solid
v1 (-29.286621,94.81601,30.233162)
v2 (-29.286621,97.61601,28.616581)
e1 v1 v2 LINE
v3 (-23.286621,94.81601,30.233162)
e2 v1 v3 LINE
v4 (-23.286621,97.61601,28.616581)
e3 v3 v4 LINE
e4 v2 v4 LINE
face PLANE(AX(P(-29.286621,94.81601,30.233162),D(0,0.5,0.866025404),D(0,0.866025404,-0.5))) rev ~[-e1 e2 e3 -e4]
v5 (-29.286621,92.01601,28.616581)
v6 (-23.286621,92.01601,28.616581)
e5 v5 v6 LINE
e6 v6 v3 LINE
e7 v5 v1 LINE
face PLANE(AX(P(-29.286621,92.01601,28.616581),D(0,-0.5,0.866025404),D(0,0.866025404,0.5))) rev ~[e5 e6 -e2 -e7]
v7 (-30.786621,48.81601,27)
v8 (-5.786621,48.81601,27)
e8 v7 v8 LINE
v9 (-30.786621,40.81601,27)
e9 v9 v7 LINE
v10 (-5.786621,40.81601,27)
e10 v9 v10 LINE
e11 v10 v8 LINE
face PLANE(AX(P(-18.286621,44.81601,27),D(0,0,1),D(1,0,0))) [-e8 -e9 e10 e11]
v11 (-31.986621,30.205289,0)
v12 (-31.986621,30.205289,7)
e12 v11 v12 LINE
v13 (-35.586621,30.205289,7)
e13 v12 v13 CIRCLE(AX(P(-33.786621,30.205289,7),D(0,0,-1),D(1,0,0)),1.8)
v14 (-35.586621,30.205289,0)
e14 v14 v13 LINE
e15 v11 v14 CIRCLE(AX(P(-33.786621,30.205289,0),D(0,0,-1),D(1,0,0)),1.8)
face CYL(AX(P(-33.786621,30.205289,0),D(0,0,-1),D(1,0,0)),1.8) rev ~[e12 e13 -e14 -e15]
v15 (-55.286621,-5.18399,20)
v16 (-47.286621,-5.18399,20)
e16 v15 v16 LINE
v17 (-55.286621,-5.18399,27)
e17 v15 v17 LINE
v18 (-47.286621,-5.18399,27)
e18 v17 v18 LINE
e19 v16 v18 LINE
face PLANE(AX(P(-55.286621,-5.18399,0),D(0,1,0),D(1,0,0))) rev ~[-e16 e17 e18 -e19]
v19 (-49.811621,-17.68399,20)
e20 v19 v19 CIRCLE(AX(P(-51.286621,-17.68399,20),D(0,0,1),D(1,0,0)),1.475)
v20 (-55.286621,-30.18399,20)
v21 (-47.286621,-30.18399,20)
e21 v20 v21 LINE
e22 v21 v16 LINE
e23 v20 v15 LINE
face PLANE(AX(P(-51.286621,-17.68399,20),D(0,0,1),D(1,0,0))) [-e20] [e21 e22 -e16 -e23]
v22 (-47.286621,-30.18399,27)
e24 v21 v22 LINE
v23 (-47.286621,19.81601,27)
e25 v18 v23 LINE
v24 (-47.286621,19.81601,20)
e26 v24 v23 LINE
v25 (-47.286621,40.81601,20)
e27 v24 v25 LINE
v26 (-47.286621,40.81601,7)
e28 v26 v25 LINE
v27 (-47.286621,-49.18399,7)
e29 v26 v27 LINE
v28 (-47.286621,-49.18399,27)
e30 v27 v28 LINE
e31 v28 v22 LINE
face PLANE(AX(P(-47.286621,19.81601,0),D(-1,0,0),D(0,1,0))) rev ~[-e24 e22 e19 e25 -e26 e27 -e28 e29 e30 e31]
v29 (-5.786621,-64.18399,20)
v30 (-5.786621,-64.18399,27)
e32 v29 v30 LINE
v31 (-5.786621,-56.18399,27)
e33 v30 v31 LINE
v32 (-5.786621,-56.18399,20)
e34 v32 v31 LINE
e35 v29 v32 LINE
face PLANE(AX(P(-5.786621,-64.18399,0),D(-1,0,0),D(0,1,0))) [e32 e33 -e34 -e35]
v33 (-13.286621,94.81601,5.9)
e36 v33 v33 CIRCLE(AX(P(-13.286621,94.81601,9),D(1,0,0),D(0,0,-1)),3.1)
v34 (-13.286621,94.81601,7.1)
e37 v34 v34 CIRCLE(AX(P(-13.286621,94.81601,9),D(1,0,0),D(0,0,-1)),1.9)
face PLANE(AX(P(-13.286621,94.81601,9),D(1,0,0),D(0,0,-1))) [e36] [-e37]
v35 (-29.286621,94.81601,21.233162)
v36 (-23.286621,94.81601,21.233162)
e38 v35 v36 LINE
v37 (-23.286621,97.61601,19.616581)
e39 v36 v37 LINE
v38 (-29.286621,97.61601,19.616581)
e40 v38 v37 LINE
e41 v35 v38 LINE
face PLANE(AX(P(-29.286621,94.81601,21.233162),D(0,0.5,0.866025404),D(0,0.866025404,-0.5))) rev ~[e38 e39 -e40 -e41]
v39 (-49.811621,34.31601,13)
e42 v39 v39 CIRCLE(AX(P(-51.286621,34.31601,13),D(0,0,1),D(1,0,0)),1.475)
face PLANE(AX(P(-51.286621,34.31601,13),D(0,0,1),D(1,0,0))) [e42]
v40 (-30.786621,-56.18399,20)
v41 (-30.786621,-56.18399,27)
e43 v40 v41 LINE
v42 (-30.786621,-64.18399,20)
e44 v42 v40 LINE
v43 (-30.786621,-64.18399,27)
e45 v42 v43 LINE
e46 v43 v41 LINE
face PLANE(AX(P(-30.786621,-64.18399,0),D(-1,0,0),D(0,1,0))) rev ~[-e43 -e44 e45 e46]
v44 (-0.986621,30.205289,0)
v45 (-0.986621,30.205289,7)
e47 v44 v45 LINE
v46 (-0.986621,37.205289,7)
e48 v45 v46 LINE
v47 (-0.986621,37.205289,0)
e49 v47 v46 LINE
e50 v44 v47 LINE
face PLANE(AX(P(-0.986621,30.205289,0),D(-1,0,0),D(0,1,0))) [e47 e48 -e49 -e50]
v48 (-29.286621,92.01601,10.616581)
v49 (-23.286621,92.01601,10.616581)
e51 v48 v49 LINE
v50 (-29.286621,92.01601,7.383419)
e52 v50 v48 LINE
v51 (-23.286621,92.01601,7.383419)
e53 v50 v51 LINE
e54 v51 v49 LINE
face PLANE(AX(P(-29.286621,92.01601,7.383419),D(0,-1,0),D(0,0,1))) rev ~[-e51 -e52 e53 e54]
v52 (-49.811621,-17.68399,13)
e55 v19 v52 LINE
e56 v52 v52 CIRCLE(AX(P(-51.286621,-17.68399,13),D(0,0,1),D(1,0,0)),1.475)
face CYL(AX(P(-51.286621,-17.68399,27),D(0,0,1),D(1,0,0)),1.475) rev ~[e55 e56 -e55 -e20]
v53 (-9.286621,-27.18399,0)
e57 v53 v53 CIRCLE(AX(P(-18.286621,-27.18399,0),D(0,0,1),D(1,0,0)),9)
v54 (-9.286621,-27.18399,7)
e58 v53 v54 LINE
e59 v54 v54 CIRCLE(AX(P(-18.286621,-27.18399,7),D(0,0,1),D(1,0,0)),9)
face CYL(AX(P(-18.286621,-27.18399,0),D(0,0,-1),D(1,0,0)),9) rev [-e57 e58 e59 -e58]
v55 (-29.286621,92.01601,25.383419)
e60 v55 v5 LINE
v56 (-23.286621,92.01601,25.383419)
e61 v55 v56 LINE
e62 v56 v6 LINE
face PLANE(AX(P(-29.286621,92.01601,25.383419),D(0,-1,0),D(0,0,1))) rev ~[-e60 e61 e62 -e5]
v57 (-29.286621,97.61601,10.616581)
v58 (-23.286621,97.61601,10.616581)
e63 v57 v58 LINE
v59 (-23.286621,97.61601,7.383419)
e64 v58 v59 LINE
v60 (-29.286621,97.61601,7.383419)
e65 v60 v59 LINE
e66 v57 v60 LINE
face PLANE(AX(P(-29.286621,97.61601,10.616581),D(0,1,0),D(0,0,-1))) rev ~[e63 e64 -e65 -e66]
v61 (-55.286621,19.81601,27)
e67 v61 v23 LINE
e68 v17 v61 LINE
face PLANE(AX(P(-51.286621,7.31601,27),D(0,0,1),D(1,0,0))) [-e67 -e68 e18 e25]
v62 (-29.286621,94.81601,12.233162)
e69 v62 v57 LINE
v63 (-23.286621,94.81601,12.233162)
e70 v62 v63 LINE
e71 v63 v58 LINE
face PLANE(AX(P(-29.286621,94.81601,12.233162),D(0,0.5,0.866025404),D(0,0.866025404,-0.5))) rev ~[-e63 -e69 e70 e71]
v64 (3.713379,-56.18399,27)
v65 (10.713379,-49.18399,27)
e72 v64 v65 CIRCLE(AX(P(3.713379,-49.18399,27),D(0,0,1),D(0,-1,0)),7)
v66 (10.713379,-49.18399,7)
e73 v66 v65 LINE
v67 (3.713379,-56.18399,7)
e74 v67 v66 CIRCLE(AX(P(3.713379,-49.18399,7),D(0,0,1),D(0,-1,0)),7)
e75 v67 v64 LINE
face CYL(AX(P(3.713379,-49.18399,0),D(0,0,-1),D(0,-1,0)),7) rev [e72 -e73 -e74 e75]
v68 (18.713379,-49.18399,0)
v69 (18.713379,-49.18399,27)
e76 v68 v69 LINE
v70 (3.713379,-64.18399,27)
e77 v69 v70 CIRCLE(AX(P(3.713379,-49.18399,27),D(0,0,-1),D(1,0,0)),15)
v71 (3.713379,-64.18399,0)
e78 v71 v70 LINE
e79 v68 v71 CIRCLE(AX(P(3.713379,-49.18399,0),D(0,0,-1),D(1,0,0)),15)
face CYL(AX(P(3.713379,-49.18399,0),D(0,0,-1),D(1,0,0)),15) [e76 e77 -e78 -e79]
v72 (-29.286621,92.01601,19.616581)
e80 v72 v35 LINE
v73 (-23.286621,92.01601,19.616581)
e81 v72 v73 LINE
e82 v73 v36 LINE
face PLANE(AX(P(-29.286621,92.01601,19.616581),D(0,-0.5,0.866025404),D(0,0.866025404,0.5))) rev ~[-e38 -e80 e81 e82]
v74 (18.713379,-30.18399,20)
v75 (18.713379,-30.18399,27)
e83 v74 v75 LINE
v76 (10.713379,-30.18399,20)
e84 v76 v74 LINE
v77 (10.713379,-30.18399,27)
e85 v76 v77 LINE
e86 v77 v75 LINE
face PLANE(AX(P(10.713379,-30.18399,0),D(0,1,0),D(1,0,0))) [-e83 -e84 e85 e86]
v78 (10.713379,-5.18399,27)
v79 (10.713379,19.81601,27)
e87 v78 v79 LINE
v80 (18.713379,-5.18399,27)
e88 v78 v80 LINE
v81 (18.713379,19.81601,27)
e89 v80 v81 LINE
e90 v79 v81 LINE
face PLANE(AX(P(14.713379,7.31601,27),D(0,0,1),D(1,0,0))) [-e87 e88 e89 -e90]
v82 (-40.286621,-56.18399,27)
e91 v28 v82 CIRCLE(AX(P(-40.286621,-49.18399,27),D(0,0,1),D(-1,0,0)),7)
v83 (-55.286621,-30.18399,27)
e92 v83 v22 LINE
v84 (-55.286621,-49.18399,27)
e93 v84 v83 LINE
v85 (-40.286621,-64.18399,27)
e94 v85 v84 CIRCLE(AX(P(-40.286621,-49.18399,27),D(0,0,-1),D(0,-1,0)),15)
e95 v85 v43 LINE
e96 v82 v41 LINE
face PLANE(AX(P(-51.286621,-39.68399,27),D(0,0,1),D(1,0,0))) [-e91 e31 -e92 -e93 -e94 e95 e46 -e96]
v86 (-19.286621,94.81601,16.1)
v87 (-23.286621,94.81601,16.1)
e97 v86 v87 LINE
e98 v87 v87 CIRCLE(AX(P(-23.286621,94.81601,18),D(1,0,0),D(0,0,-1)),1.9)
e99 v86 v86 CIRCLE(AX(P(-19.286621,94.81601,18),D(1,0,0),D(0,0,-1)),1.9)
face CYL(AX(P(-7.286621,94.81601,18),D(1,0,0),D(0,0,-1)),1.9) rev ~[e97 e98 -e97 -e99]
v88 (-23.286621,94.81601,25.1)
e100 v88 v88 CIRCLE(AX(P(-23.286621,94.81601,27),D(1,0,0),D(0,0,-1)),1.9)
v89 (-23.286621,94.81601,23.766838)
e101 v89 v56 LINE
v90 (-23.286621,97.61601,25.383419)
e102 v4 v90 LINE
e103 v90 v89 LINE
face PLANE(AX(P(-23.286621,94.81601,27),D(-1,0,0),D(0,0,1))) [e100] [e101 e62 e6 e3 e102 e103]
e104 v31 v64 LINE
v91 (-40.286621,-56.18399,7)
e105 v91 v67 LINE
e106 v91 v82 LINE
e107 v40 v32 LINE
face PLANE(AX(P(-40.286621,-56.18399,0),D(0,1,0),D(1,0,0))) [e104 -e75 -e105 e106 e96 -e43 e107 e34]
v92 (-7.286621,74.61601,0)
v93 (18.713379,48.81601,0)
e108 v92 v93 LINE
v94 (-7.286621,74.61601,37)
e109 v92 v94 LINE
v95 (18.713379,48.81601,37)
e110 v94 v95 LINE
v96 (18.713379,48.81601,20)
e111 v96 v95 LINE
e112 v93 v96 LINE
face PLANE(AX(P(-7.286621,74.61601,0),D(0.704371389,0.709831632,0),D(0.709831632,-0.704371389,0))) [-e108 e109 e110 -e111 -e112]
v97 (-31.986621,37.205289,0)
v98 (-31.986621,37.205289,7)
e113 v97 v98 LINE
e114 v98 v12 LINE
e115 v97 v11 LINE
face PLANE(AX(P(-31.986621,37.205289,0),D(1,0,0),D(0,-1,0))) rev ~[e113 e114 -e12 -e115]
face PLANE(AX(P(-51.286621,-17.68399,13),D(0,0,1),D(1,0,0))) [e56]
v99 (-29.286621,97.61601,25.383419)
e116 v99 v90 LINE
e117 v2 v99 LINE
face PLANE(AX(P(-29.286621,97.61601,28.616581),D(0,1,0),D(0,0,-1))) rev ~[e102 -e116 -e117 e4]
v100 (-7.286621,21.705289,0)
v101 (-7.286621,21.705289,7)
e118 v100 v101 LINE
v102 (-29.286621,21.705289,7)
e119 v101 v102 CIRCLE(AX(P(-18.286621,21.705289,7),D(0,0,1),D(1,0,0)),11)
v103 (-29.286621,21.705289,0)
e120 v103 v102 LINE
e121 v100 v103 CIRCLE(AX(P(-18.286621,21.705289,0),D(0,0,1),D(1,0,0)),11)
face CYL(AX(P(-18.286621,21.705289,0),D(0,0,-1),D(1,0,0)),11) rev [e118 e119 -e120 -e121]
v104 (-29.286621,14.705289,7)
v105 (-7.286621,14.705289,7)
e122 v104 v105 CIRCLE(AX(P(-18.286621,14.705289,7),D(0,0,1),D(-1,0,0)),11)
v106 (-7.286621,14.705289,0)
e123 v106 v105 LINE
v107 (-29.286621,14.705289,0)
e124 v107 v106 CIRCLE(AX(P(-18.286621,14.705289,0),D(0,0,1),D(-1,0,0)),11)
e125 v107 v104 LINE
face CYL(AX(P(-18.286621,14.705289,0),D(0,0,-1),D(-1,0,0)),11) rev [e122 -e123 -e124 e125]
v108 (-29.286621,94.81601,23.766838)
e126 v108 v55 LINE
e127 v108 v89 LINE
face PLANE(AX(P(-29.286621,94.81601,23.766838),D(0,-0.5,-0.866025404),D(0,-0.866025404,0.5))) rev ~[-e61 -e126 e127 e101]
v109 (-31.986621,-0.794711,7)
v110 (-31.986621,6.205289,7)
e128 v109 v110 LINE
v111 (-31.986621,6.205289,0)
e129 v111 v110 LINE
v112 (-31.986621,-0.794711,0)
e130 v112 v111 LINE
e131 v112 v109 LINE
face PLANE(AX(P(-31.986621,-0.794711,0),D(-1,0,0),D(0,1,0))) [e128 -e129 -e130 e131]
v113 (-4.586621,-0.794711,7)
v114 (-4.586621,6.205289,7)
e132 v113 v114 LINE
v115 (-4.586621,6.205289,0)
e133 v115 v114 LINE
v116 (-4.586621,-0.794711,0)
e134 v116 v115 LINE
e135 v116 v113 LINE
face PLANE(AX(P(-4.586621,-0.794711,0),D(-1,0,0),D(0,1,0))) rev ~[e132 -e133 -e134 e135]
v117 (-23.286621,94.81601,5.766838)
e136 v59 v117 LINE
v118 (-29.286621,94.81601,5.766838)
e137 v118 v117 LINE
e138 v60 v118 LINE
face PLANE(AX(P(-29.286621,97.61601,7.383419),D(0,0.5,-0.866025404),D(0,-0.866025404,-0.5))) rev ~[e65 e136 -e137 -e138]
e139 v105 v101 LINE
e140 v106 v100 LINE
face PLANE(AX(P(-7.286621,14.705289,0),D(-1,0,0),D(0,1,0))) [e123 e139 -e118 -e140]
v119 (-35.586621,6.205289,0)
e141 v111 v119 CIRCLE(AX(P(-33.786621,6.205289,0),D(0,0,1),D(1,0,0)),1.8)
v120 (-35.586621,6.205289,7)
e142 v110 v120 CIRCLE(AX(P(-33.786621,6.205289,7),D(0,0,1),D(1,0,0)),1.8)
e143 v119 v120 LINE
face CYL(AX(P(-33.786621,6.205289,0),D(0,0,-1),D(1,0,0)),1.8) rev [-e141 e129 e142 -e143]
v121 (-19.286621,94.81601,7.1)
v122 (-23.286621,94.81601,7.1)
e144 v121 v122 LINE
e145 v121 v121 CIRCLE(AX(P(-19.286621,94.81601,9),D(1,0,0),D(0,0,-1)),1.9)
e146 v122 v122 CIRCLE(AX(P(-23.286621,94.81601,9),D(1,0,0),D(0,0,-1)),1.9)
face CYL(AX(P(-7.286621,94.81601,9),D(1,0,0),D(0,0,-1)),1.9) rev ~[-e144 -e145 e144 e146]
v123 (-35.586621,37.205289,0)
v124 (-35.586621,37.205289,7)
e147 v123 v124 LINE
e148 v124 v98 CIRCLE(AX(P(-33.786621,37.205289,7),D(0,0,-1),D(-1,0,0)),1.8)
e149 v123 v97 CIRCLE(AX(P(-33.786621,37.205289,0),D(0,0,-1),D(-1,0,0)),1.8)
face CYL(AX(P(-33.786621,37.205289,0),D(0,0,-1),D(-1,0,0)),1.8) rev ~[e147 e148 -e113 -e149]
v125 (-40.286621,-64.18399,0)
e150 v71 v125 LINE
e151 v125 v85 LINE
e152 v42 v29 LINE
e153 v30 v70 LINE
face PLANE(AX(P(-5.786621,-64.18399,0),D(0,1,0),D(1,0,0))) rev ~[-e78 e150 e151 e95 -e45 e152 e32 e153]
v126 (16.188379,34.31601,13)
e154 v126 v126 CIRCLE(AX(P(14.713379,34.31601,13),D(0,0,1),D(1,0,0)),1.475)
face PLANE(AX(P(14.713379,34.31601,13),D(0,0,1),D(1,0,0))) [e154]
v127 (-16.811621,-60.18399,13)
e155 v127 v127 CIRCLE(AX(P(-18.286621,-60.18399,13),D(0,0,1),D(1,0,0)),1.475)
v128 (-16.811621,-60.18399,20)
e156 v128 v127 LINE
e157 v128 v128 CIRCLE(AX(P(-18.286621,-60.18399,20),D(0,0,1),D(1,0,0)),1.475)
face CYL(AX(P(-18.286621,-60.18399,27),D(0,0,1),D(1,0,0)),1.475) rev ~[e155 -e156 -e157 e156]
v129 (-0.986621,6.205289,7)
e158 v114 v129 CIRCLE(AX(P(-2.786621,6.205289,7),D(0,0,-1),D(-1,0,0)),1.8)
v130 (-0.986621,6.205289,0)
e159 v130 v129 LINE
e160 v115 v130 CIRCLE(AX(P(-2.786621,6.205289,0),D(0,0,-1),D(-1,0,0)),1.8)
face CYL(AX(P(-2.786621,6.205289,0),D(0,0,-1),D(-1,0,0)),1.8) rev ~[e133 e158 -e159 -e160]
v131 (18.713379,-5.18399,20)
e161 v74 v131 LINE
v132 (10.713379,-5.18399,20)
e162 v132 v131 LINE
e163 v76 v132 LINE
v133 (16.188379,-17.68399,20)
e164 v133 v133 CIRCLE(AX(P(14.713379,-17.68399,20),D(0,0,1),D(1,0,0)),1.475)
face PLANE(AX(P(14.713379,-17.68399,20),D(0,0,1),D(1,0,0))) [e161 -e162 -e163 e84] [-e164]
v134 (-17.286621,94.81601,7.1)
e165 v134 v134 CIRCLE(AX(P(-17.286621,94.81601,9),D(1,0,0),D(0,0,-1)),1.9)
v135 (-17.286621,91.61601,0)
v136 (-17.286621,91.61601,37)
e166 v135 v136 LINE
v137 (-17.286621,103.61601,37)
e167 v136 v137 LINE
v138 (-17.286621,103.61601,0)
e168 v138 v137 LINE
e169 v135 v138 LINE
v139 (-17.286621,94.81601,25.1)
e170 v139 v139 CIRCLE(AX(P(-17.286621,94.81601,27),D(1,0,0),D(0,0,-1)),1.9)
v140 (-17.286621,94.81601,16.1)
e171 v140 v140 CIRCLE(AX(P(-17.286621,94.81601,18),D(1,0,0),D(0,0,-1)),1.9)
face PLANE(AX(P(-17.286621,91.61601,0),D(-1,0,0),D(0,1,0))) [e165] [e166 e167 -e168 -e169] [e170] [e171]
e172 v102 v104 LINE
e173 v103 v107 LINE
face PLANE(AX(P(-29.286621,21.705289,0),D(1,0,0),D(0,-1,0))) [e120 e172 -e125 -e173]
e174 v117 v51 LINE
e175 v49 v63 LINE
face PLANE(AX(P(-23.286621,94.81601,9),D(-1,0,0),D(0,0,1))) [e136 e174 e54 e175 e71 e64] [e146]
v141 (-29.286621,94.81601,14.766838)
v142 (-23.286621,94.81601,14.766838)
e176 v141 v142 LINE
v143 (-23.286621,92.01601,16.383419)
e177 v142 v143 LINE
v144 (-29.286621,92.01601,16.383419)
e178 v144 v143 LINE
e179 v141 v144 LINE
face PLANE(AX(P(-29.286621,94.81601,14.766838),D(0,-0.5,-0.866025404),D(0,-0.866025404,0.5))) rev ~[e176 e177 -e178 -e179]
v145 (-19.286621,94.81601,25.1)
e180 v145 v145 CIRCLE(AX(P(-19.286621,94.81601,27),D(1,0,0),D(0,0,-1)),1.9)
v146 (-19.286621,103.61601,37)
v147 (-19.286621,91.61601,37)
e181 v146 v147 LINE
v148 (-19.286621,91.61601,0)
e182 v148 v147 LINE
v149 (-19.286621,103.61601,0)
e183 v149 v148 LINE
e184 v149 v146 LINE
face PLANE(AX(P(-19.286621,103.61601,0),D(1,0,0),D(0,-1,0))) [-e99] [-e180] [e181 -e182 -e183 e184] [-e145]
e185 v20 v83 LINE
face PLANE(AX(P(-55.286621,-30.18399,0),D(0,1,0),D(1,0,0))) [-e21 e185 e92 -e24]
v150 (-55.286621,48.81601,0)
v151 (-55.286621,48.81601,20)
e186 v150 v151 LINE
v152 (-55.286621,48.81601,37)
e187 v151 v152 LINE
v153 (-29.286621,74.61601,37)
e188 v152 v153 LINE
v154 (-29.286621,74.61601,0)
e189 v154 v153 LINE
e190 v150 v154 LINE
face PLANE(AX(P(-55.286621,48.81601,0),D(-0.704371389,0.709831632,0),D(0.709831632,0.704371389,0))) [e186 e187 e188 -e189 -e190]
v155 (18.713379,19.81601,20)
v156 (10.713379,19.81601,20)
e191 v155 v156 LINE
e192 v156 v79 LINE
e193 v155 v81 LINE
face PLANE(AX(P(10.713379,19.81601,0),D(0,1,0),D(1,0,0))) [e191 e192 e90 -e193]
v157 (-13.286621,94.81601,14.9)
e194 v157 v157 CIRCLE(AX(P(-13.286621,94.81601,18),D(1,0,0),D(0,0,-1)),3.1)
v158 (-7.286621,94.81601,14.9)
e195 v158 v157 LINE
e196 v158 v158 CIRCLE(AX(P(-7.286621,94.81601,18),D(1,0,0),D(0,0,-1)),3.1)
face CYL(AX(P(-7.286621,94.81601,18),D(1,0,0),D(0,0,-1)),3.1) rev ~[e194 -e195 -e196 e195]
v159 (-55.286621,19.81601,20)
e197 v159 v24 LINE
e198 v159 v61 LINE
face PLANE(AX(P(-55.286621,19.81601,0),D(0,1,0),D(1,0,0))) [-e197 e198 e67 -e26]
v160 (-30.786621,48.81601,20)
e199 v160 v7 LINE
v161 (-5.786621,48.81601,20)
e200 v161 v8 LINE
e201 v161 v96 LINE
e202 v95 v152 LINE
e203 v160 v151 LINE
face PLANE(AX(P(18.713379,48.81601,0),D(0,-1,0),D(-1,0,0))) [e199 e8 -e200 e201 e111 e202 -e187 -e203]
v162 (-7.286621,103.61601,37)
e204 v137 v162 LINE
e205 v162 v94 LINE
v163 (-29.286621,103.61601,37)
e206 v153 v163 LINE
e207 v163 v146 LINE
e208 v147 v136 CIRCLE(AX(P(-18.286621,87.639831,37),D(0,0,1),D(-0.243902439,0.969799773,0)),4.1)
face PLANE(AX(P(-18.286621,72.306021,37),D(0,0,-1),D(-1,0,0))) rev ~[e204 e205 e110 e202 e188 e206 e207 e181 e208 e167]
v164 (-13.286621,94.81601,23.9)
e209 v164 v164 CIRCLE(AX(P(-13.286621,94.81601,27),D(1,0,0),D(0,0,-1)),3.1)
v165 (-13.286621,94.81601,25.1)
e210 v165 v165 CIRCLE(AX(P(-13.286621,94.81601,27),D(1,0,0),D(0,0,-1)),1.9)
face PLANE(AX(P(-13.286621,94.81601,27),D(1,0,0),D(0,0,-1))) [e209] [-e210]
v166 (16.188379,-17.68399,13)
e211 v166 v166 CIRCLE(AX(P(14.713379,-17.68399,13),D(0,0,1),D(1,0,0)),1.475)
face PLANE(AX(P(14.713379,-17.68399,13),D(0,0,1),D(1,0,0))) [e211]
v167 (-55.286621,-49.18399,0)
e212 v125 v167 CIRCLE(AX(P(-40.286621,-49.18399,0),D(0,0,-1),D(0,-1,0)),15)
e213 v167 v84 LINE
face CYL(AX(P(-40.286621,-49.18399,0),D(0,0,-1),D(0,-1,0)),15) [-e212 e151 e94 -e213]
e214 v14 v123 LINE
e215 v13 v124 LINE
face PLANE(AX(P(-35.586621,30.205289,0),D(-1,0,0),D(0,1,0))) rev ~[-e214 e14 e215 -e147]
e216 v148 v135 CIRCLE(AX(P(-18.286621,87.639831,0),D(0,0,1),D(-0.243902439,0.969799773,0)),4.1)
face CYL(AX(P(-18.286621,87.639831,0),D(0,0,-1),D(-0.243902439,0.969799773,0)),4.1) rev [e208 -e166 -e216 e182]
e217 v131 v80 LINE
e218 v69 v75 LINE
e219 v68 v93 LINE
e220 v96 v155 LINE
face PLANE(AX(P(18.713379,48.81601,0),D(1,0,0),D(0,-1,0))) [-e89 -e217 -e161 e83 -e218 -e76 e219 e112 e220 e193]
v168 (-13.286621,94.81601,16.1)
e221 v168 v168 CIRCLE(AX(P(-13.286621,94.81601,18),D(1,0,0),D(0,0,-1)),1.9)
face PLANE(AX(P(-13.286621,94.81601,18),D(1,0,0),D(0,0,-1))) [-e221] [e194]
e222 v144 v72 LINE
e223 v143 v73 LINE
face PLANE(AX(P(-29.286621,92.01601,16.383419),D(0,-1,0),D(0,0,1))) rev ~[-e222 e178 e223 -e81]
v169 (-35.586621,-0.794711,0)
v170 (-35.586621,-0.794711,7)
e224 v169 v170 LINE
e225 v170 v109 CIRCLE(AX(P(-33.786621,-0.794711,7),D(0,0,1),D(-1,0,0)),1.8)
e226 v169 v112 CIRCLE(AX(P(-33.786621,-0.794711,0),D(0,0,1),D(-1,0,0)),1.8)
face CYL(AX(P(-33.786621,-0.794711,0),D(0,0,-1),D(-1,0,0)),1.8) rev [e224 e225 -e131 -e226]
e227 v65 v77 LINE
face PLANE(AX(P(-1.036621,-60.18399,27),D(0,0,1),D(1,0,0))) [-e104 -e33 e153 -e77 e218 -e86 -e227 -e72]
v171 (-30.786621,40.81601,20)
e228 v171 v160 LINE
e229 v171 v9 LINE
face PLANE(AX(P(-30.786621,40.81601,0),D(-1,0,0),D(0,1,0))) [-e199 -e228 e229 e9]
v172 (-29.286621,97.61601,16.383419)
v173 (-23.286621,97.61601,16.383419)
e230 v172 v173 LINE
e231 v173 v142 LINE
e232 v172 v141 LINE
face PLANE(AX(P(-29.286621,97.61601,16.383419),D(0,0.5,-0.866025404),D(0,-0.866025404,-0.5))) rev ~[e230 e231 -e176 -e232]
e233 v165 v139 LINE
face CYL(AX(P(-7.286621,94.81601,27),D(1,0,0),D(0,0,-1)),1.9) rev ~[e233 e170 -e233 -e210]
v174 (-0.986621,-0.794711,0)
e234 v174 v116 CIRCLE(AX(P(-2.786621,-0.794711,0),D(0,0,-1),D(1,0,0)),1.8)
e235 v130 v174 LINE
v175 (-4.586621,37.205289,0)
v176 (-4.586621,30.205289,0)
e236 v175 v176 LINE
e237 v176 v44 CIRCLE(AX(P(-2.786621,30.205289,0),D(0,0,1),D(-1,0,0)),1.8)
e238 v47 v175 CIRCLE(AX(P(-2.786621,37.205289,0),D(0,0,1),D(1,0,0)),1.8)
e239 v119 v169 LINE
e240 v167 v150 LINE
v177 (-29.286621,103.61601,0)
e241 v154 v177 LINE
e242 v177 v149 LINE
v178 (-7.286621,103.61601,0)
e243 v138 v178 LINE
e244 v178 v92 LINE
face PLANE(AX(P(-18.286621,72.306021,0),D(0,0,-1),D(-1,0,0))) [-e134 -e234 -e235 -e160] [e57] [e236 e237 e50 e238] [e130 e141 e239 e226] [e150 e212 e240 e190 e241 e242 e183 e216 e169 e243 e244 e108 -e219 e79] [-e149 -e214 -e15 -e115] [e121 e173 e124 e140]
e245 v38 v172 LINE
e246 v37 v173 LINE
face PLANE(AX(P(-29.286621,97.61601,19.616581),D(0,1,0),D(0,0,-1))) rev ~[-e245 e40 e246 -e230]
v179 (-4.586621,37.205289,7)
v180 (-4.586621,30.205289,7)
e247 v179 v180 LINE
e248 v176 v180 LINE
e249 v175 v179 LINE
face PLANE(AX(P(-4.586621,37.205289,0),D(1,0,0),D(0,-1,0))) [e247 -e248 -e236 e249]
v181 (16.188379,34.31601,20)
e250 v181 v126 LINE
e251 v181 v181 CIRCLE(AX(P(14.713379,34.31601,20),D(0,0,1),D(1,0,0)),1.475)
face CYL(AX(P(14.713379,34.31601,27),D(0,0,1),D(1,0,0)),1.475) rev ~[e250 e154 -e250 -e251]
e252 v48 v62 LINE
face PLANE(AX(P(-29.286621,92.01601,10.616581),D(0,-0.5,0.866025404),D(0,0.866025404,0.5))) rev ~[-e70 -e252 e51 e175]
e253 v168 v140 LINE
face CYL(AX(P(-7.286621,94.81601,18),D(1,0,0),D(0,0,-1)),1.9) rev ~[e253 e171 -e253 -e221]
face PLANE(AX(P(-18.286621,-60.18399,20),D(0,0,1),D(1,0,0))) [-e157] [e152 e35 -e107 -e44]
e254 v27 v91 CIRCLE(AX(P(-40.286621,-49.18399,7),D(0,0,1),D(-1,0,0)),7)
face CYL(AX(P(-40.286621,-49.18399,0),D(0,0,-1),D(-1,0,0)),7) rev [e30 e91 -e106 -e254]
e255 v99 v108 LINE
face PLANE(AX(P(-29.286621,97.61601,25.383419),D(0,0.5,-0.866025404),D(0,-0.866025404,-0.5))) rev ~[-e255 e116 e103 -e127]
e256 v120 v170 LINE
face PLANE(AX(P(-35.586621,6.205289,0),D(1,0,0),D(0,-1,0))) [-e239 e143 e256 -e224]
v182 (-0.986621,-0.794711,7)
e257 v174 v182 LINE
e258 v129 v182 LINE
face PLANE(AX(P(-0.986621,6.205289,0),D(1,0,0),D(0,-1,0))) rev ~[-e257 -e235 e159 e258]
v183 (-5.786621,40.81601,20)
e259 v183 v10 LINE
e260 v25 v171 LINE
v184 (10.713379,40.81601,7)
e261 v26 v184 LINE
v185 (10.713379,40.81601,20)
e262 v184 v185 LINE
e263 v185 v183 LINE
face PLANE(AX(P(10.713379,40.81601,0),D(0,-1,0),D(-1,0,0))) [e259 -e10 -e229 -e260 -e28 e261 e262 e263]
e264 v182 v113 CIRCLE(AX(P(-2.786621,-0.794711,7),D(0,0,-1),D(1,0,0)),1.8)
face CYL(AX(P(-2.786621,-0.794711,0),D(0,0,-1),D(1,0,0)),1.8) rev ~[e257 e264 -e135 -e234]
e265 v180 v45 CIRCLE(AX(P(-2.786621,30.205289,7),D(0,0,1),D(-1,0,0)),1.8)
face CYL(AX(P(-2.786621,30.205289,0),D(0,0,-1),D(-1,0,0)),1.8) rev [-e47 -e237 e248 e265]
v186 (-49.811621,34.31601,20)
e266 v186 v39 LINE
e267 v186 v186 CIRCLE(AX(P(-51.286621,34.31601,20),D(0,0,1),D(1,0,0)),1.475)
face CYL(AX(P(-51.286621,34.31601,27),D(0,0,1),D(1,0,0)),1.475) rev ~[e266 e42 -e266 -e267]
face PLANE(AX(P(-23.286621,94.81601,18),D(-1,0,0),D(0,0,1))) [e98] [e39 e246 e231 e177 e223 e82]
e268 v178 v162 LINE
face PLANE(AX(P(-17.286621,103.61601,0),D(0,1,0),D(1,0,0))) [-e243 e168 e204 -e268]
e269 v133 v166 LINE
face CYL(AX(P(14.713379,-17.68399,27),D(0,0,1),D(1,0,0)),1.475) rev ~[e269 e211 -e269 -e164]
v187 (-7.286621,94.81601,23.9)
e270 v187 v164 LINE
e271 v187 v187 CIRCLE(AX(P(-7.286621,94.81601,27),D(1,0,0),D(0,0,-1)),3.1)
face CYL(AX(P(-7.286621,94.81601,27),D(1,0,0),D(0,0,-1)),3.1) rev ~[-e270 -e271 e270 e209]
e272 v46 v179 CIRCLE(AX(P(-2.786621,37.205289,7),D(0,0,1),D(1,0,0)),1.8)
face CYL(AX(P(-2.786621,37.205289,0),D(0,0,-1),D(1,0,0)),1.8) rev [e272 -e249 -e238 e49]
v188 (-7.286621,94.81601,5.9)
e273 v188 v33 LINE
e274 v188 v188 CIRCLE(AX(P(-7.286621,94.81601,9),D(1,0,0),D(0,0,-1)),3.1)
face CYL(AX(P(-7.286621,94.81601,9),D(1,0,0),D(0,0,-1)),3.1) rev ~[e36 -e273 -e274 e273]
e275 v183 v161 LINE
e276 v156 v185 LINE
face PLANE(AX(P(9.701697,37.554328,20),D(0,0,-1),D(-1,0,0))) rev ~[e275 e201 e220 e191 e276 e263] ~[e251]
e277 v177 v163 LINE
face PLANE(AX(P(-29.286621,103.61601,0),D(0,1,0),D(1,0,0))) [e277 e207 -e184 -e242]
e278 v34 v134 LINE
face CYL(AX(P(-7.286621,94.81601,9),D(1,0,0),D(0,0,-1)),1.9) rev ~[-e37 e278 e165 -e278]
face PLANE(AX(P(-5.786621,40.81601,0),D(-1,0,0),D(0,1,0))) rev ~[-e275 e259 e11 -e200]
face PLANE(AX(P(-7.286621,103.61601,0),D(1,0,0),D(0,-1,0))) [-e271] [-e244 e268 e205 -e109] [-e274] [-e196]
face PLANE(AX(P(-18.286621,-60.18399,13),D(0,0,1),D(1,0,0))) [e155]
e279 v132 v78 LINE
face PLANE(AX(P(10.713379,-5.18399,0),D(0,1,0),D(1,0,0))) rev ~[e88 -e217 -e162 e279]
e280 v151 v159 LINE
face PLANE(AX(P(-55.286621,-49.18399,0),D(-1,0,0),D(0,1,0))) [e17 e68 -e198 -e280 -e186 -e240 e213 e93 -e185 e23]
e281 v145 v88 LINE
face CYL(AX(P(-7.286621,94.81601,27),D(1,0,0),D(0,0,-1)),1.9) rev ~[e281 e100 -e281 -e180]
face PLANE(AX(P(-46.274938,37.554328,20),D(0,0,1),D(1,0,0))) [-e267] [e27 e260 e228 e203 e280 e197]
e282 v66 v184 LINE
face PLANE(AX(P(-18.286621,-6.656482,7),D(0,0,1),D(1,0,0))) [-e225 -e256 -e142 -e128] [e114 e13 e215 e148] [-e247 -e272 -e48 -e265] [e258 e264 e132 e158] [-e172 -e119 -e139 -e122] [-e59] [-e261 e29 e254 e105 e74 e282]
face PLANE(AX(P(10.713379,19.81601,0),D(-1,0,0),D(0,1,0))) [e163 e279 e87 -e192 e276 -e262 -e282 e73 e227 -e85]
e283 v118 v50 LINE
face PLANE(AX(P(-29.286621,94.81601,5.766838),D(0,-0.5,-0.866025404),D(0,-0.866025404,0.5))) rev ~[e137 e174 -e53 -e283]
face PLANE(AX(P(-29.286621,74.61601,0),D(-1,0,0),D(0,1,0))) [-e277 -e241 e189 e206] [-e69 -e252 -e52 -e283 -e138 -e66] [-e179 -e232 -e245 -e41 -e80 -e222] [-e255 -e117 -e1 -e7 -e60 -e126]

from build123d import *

# Parameters (mm, degrees)
CROQUIS2_R              = 9
SALIENTE_EXTRUIR1_DEPTH = 7
CROQUIS2_7_W            = 25
CROQUIS2_7_H            = 8
CROQUIS2_7_W_2          = 8
CROQUIS2_7_H_2          = 25
SALIENTE_EXTRUIR3_DEPTH = 27
CROQUIS2_12_W           = 8
CROQUIS2_12_H           = 25
CROQUIS2_12_W_2         = 25
CROQUIS2_12_H_2         = 8
SALIENTE_EXTRUIR4_DEPTH = 20
SALIENTE_EXTRUIR5_DEPTH = 37
CROQUIS4_R              = 1.475
CORTAR_EXTRUIR2_DEPTH   = 14
CROQUIS10_R             = 1.9
CORTAR_EXTRUIR3_DEPTH   = 22
CROQUIS11_R             = 3.1
CORTAR_EXTRUIR4_DEPTH   = 6
CORTAR_EXTRUIR5_DEPTH   = 6


with BuildPart() as part:
    # Croquis2 → Saliente-Extruir1 (new body)
    with BuildSketch(Plane.XY):
        with BuildLine():
            Line((-5.786620614, 40.816010109), (-30.786620614, 40.816010109))
            Line((-30.786620614, 40.816010109), (-47.286620614, 40.816010109))
            Line((-47.286620614, 40.816010109), (-47.286620614, 19.816010109))
            Line((-47.286620614, 19.816010109), (-47.286620614, -5.183989891))
            Line((-47.286620614, -5.183989891), (-47.286620614, -30.183989891))
            Line((-47.286620614, -30.183989891), (-47.286620614, -49.183989891))
            ThreePointArc((-47.286620614, -49.183989891), (-45.236368082, -54.133737359), (-40.286620614, -56.183989891))
            Line((-40.286620614, -56.183989891), (-30.786620614, -56.183989891))
            Line((-30.786620614, -56.183989891), (-5.786620614, -56.183989891))
            Line((-5.786620614, -56.183989891), (3.713379386, -56.183989891))
            ThreePointArc((3.713379386, -56.183989891), (8.663126854, -54.133737359), (10.713379386, -49.183989891))
            Line((10.713379386, -49.183989891), (10.713379386, -30.183989891))
            Line((10.713379386, -30.183989891), (10.713379386, -5.183989891))
            Line((10.713379386, -5.183989891), (10.713379386, 19.816010109))
            Line((10.713379386, 19.816010109), (10.713379386, 40.816010109))
            Line((10.713379386, 40.816010109), (-5.786620614, 40.816010109))
        make_face()
        with Locations((-18.286620614, -27.183989891)):
            Circle(CROQUIS2_R, mode=Mode.SUBTRACT)
        with BuildLine():
            ThreePointArc((-35.586620614, 6.205288522), (-33.786620614, 8.005288522), (-31.986620614, 6.205288522))
            Line((-31.986620614, 6.205288522), (-31.986620614, -0.794711478))
            ThreePointArc((-31.986620614, -0.794711478), (-33.786620614, -2.594711478), (-35.586620614, -0.794711478))
            Line((-35.586620614, -0.794711478), (-35.586620614, 6.205288522))
        make_face(mode=Mode.SUBTRACT)
        with BuildLine():
            ThreePointArc((-29.286620614, 21.705288522), (-18.286620614, 32.705288522), (-7.286620614, 21.705288522))
            Line((-7.286620614, 21.705288522), (-7.286620614, 14.705288522))
            ThreePointArc((-7.286620614, 14.705288522), (-18.286620614, 3.705288522), (-29.286620614, 14.705288522))
            Line((-29.286620614, 14.705288522), (-29.286620614, 21.705288522))
        make_face(mode=Mode.SUBTRACT)
        with BuildLine():
            ThreePointArc((-4.586620614, 6.205288522), (-2.786620614, 8.005288522), (-0.986620614, 6.205288522))
            Line((-0.986620614, 6.205288522), (-0.986620614, -0.794711478))
            ThreePointArc((-0.986620614, -0.794711478), (-2.786620614, -2.594711478), (-4.586620614, -0.794711478))
            Line((-4.586620614, -0.794711478), (-4.586620614, 6.205288522))
        make_face(mode=Mode.SUBTRACT)
        with BuildLine():
            ThreePointArc((-31.986620614, 30.205288522), (-33.786620614, 28.405288522), (-35.586620614, 30.205288522))
            Line((-35.586620614, 30.205288522), (-35.586620614, 37.205288522))
            ThreePointArc((-35.586620614, 37.205288522), (-33.786620614, 39.005288522), (-31.986620614, 37.205288522))
            Line((-31.986620614, 37.205288522), (-31.986620614, 30.205288522))
        make_face(mode=Mode.SUBTRACT)
        with BuildLine():
            ThreePointArc((-0.986620614, 30.205288522), (-2.786620614, 28.405288522), (-4.586620614, 30.205288522))
            Line((-4.586620614, 30.205288522), (-4.586620614, 37.205288522))
            ThreePointArc((-4.586620614, 37.205288522), (-2.786620614, 39.005288522), (-0.986620614, 37.205288522))
            Line((-0.986620614, 37.205288522), (-0.986620614, 30.205288522))
        make_face(mode=Mode.SUBTRACT)
    extrude(amount=SALIENTE_EXTRUIR1_DEPTH)

    # Croquis2<7> → Saliente-Extruir3 (add)
    with BuildSketch(Plane.XY):
        with Locations((-18.286620614, 44.816010109)):
            Rectangle(CROQUIS2_7_W, CROQUIS2_7_H)
        with Locations((-51.286620614, 7.316010109)):
            Rectangle(CROQUIS2_7_W_2, CROQUIS2_7_H_2)
        with Locations((14.713379386, 7.316010109)):
            Rectangle(CROQUIS2_7_W_2, CROQUIS2_7_H_2)
        with BuildLine():
            Line((-47.286620614, -30.183989891), (-55.286620614, -30.183989891))
            Line((-55.286620614, -30.183989891), (-55.286620614, -49.183989891))
            ThreePointArc((-55.286620614, -49.183989891), (-50.893222332, -59.790591609), (-40.286620614, -64.183989891))
            Line((-40.286620614, -64.183989891), (-30.786620614, -64.183989891))
            Line((-30.786620614, -64.183989891), (-30.786620614, -56.183989891))
            Line((-30.786620614, -56.183989891), (-40.286620614, -56.183989891))
            ThreePointArc((-40.286620614, -56.183989891), (-45.236368082, -54.133737359), (-47.286620614, -49.183989891))
            Line((-47.286620614, -49.183989891), (-47.286620614, -30.183989891))
        make_face()
        with BuildLine():
            Line((18.713379386, -49.183989891), (18.713379386, -30.183989891))
            Line((18.713379386, -30.183989891), (10.713379386, -30.183989891))
            Line((10.713379386, -30.183989891), (10.713379386, -49.183989891))
            ThreePointArc((10.713379386, -49.183989891), (8.663126854, -54.133737359), (3.713379386, -56.183989891))
            Line((3.713379386, -56.183989891), (-5.786620614, -56.183989891))
            Line((-5.786620614, -56.183989891), (-5.786620614, -64.183989891))
            Line((-5.786620614, -64.183989891), (3.713379386, -64.183989891))
            ThreePointArc((3.713379386, -64.183989891), (14.319981104, -59.790591609), (18.713379386, -49.183989891))
        make_face()
    extrude(amount=SALIENTE_EXTRUIR3_DEPTH)

    # Croquis2<12> → Saliente-Extruir4 (add)
    with BuildSketch(Plane.XY):
        Polygon((-30.786620614, 40.816010109), (-30.786620614, 48.816010109), (-55.286620614, 48.816010109), (-55.286620614, 19.816010109), (-47.286620614, 19.816010109), (-47.286620614, 40.816010109), align=None)
        Polygon((18.713379386, 48.816010109), (-5.786620614, 48.816010109), (-5.786620614, 40.816010109), (10.713379386, 40.816010109), (10.713379386, 19.816010109), (18.713379386, 19.816010109), align=None)
        with Locations((-51.286620614, -17.683989891)):
            Rectangle(CROQUIS2_12_W, CROQUIS2_12_H)
        with Locations((14.713379386, -17.683989891)):
            Rectangle(CROQUIS2_12_W, CROQUIS2_12_H)
        with Locations((-18.286620614, -60.183989891)):
            Rectangle(CROQUIS2_12_W_2, CROQUIS2_12_H_2)
    extrude(amount=SALIENTE_EXTRUIR4_DEPTH)

    # Croquis2<14> → Saliente-Extruir5 (add)
    with BuildSketch(Plane.XY):
        with BuildLine():
            Line((-55.286620614, 48.816010109), (-30.786620614, 48.816010109))
            Line((-30.786620614, 48.816010109), (-5.786620614, 48.816010109))
            Line((-5.786620614, 48.816010109), (18.713379386, 48.816010109))
            Line((18.713379386, 48.816010109), (-7.286620614, 74.616010109))
            Line((-7.286620614, 74.616010109), (-7.286620614, 103.616010109))
            Line((-7.286620614, 103.616010109), (-17.286620614, 103.616010109))
            Line((-17.286620614, 103.616010109), (-17.286620614, 91.616010109))
            ThreePointArc((-17.286620614, 91.616010109), (-18.286620614, 83.539831039), (-19.286620614, 91.616010109))
            Line((-19.286620614, 91.616010109), (-19.286620614, 103.616010109))
            Line((-19.286620614, 103.616010109), (-29.286620614, 103.616010109))
            Line((-29.286620614, 103.616010109), (-29.286620614, 74.616010109))
            Line((-29.286620614, 74.616010109), (-55.286620614, 48.816010109))
        make_face()
    extrude(amount=SALIENTE_EXTRUIR5_DEPTH)

    # Croquis4 → Cortar-Extruir2 (cut)
    with BuildSketch(Plane.XY.offset(27)):
        with Locations((-51.286620614, 34.316010109)):
            Circle(CROQUIS4_R)
        with Locations((-51.286620614, -17.683989891)):
            Circle(CROQUIS4_R)
        with Locations((-18.286620614, -60.183989891)):
            Circle(CROQUIS4_R)
        with Locations((14.713379386, -17.683989891)):
            Circle(CROQUIS4_R)
        with Locations((14.713379386, 34.316010109)):
            Circle(CROQUIS4_R)
    extrude(amount=-CORTAR_EXTRUIR2_DEPTH, mode=Mode.SUBTRACT)

    # Croquis10 → Cortar-Extruir3 (cut)
    with BuildSketch(Plane(origin=(-7.286620614, 0, 0), x_dir=(0, 0, -1), z_dir=(1, 0, 0))):
        with Locations((-9, 94.816010109)):
            Circle(CROQUIS10_R)
        with Locations((-18, 94.816010109)):
            Circle(CROQUIS10_R)
        with Locations((-27, 94.816010109)):
            Circle(CROQUIS10_R)
    extrude(amount=-CORTAR_EXTRUIR3_DEPTH, mode=Mode.SUBTRACT)

    # Croquis11 → Cortar-Extruir4 (cut)
    with BuildSketch(Plane(origin=(-7.286620614, 0, 0), x_dir=(0, 0, -1), z_dir=(1, 0, 0))):
        with Locations((-27, 94.816010109)):
            Circle(CROQUIS11_R)
        with Locations((-18, 94.816010109)):
            Circle(CROQUIS11_R)
        with Locations((-9, 94.816010109)):
            Circle(CROQUIS11_R)
    extrude(amount=-CORTAR_EXTRUIR4_DEPTH, mode=Mode.SUBTRACT)

    # Croquis12 → Cortar-Extruir5 (cut)
    with BuildSketch(Plane.ZY.offset(29.286620614)):
        Polygon((21.233161507, 94.816010109), (19.616580754, 97.616010109), (16.383419246, 97.616010109), (14.766838493, 94.816010109), (16.383419246, 92.016010109), (19.616580754, 92.016010109), align=None)
        Polygon((12.233161507, 94.816010109), (10.616580754, 97.616010109), (7.383419246, 97.616010109), (5.766838493, 94.816010109), (7.383419246, 92.016010109), (10.616580754, 92.016010109), align=None)
        Polygon((30.233161507, 94.816010109), (28.616580754, 97.616010109), (25.383419246, 97.616010109), (23.766838493, 94.816010109), (25.383419246, 92.016010109), (28.616580754, 92.016010109), align=None)
    extrude(amount=-CORTAR_EXTRUIR5_DEPTH, mode=Mode.SUBTRACT)


solid = part.part
